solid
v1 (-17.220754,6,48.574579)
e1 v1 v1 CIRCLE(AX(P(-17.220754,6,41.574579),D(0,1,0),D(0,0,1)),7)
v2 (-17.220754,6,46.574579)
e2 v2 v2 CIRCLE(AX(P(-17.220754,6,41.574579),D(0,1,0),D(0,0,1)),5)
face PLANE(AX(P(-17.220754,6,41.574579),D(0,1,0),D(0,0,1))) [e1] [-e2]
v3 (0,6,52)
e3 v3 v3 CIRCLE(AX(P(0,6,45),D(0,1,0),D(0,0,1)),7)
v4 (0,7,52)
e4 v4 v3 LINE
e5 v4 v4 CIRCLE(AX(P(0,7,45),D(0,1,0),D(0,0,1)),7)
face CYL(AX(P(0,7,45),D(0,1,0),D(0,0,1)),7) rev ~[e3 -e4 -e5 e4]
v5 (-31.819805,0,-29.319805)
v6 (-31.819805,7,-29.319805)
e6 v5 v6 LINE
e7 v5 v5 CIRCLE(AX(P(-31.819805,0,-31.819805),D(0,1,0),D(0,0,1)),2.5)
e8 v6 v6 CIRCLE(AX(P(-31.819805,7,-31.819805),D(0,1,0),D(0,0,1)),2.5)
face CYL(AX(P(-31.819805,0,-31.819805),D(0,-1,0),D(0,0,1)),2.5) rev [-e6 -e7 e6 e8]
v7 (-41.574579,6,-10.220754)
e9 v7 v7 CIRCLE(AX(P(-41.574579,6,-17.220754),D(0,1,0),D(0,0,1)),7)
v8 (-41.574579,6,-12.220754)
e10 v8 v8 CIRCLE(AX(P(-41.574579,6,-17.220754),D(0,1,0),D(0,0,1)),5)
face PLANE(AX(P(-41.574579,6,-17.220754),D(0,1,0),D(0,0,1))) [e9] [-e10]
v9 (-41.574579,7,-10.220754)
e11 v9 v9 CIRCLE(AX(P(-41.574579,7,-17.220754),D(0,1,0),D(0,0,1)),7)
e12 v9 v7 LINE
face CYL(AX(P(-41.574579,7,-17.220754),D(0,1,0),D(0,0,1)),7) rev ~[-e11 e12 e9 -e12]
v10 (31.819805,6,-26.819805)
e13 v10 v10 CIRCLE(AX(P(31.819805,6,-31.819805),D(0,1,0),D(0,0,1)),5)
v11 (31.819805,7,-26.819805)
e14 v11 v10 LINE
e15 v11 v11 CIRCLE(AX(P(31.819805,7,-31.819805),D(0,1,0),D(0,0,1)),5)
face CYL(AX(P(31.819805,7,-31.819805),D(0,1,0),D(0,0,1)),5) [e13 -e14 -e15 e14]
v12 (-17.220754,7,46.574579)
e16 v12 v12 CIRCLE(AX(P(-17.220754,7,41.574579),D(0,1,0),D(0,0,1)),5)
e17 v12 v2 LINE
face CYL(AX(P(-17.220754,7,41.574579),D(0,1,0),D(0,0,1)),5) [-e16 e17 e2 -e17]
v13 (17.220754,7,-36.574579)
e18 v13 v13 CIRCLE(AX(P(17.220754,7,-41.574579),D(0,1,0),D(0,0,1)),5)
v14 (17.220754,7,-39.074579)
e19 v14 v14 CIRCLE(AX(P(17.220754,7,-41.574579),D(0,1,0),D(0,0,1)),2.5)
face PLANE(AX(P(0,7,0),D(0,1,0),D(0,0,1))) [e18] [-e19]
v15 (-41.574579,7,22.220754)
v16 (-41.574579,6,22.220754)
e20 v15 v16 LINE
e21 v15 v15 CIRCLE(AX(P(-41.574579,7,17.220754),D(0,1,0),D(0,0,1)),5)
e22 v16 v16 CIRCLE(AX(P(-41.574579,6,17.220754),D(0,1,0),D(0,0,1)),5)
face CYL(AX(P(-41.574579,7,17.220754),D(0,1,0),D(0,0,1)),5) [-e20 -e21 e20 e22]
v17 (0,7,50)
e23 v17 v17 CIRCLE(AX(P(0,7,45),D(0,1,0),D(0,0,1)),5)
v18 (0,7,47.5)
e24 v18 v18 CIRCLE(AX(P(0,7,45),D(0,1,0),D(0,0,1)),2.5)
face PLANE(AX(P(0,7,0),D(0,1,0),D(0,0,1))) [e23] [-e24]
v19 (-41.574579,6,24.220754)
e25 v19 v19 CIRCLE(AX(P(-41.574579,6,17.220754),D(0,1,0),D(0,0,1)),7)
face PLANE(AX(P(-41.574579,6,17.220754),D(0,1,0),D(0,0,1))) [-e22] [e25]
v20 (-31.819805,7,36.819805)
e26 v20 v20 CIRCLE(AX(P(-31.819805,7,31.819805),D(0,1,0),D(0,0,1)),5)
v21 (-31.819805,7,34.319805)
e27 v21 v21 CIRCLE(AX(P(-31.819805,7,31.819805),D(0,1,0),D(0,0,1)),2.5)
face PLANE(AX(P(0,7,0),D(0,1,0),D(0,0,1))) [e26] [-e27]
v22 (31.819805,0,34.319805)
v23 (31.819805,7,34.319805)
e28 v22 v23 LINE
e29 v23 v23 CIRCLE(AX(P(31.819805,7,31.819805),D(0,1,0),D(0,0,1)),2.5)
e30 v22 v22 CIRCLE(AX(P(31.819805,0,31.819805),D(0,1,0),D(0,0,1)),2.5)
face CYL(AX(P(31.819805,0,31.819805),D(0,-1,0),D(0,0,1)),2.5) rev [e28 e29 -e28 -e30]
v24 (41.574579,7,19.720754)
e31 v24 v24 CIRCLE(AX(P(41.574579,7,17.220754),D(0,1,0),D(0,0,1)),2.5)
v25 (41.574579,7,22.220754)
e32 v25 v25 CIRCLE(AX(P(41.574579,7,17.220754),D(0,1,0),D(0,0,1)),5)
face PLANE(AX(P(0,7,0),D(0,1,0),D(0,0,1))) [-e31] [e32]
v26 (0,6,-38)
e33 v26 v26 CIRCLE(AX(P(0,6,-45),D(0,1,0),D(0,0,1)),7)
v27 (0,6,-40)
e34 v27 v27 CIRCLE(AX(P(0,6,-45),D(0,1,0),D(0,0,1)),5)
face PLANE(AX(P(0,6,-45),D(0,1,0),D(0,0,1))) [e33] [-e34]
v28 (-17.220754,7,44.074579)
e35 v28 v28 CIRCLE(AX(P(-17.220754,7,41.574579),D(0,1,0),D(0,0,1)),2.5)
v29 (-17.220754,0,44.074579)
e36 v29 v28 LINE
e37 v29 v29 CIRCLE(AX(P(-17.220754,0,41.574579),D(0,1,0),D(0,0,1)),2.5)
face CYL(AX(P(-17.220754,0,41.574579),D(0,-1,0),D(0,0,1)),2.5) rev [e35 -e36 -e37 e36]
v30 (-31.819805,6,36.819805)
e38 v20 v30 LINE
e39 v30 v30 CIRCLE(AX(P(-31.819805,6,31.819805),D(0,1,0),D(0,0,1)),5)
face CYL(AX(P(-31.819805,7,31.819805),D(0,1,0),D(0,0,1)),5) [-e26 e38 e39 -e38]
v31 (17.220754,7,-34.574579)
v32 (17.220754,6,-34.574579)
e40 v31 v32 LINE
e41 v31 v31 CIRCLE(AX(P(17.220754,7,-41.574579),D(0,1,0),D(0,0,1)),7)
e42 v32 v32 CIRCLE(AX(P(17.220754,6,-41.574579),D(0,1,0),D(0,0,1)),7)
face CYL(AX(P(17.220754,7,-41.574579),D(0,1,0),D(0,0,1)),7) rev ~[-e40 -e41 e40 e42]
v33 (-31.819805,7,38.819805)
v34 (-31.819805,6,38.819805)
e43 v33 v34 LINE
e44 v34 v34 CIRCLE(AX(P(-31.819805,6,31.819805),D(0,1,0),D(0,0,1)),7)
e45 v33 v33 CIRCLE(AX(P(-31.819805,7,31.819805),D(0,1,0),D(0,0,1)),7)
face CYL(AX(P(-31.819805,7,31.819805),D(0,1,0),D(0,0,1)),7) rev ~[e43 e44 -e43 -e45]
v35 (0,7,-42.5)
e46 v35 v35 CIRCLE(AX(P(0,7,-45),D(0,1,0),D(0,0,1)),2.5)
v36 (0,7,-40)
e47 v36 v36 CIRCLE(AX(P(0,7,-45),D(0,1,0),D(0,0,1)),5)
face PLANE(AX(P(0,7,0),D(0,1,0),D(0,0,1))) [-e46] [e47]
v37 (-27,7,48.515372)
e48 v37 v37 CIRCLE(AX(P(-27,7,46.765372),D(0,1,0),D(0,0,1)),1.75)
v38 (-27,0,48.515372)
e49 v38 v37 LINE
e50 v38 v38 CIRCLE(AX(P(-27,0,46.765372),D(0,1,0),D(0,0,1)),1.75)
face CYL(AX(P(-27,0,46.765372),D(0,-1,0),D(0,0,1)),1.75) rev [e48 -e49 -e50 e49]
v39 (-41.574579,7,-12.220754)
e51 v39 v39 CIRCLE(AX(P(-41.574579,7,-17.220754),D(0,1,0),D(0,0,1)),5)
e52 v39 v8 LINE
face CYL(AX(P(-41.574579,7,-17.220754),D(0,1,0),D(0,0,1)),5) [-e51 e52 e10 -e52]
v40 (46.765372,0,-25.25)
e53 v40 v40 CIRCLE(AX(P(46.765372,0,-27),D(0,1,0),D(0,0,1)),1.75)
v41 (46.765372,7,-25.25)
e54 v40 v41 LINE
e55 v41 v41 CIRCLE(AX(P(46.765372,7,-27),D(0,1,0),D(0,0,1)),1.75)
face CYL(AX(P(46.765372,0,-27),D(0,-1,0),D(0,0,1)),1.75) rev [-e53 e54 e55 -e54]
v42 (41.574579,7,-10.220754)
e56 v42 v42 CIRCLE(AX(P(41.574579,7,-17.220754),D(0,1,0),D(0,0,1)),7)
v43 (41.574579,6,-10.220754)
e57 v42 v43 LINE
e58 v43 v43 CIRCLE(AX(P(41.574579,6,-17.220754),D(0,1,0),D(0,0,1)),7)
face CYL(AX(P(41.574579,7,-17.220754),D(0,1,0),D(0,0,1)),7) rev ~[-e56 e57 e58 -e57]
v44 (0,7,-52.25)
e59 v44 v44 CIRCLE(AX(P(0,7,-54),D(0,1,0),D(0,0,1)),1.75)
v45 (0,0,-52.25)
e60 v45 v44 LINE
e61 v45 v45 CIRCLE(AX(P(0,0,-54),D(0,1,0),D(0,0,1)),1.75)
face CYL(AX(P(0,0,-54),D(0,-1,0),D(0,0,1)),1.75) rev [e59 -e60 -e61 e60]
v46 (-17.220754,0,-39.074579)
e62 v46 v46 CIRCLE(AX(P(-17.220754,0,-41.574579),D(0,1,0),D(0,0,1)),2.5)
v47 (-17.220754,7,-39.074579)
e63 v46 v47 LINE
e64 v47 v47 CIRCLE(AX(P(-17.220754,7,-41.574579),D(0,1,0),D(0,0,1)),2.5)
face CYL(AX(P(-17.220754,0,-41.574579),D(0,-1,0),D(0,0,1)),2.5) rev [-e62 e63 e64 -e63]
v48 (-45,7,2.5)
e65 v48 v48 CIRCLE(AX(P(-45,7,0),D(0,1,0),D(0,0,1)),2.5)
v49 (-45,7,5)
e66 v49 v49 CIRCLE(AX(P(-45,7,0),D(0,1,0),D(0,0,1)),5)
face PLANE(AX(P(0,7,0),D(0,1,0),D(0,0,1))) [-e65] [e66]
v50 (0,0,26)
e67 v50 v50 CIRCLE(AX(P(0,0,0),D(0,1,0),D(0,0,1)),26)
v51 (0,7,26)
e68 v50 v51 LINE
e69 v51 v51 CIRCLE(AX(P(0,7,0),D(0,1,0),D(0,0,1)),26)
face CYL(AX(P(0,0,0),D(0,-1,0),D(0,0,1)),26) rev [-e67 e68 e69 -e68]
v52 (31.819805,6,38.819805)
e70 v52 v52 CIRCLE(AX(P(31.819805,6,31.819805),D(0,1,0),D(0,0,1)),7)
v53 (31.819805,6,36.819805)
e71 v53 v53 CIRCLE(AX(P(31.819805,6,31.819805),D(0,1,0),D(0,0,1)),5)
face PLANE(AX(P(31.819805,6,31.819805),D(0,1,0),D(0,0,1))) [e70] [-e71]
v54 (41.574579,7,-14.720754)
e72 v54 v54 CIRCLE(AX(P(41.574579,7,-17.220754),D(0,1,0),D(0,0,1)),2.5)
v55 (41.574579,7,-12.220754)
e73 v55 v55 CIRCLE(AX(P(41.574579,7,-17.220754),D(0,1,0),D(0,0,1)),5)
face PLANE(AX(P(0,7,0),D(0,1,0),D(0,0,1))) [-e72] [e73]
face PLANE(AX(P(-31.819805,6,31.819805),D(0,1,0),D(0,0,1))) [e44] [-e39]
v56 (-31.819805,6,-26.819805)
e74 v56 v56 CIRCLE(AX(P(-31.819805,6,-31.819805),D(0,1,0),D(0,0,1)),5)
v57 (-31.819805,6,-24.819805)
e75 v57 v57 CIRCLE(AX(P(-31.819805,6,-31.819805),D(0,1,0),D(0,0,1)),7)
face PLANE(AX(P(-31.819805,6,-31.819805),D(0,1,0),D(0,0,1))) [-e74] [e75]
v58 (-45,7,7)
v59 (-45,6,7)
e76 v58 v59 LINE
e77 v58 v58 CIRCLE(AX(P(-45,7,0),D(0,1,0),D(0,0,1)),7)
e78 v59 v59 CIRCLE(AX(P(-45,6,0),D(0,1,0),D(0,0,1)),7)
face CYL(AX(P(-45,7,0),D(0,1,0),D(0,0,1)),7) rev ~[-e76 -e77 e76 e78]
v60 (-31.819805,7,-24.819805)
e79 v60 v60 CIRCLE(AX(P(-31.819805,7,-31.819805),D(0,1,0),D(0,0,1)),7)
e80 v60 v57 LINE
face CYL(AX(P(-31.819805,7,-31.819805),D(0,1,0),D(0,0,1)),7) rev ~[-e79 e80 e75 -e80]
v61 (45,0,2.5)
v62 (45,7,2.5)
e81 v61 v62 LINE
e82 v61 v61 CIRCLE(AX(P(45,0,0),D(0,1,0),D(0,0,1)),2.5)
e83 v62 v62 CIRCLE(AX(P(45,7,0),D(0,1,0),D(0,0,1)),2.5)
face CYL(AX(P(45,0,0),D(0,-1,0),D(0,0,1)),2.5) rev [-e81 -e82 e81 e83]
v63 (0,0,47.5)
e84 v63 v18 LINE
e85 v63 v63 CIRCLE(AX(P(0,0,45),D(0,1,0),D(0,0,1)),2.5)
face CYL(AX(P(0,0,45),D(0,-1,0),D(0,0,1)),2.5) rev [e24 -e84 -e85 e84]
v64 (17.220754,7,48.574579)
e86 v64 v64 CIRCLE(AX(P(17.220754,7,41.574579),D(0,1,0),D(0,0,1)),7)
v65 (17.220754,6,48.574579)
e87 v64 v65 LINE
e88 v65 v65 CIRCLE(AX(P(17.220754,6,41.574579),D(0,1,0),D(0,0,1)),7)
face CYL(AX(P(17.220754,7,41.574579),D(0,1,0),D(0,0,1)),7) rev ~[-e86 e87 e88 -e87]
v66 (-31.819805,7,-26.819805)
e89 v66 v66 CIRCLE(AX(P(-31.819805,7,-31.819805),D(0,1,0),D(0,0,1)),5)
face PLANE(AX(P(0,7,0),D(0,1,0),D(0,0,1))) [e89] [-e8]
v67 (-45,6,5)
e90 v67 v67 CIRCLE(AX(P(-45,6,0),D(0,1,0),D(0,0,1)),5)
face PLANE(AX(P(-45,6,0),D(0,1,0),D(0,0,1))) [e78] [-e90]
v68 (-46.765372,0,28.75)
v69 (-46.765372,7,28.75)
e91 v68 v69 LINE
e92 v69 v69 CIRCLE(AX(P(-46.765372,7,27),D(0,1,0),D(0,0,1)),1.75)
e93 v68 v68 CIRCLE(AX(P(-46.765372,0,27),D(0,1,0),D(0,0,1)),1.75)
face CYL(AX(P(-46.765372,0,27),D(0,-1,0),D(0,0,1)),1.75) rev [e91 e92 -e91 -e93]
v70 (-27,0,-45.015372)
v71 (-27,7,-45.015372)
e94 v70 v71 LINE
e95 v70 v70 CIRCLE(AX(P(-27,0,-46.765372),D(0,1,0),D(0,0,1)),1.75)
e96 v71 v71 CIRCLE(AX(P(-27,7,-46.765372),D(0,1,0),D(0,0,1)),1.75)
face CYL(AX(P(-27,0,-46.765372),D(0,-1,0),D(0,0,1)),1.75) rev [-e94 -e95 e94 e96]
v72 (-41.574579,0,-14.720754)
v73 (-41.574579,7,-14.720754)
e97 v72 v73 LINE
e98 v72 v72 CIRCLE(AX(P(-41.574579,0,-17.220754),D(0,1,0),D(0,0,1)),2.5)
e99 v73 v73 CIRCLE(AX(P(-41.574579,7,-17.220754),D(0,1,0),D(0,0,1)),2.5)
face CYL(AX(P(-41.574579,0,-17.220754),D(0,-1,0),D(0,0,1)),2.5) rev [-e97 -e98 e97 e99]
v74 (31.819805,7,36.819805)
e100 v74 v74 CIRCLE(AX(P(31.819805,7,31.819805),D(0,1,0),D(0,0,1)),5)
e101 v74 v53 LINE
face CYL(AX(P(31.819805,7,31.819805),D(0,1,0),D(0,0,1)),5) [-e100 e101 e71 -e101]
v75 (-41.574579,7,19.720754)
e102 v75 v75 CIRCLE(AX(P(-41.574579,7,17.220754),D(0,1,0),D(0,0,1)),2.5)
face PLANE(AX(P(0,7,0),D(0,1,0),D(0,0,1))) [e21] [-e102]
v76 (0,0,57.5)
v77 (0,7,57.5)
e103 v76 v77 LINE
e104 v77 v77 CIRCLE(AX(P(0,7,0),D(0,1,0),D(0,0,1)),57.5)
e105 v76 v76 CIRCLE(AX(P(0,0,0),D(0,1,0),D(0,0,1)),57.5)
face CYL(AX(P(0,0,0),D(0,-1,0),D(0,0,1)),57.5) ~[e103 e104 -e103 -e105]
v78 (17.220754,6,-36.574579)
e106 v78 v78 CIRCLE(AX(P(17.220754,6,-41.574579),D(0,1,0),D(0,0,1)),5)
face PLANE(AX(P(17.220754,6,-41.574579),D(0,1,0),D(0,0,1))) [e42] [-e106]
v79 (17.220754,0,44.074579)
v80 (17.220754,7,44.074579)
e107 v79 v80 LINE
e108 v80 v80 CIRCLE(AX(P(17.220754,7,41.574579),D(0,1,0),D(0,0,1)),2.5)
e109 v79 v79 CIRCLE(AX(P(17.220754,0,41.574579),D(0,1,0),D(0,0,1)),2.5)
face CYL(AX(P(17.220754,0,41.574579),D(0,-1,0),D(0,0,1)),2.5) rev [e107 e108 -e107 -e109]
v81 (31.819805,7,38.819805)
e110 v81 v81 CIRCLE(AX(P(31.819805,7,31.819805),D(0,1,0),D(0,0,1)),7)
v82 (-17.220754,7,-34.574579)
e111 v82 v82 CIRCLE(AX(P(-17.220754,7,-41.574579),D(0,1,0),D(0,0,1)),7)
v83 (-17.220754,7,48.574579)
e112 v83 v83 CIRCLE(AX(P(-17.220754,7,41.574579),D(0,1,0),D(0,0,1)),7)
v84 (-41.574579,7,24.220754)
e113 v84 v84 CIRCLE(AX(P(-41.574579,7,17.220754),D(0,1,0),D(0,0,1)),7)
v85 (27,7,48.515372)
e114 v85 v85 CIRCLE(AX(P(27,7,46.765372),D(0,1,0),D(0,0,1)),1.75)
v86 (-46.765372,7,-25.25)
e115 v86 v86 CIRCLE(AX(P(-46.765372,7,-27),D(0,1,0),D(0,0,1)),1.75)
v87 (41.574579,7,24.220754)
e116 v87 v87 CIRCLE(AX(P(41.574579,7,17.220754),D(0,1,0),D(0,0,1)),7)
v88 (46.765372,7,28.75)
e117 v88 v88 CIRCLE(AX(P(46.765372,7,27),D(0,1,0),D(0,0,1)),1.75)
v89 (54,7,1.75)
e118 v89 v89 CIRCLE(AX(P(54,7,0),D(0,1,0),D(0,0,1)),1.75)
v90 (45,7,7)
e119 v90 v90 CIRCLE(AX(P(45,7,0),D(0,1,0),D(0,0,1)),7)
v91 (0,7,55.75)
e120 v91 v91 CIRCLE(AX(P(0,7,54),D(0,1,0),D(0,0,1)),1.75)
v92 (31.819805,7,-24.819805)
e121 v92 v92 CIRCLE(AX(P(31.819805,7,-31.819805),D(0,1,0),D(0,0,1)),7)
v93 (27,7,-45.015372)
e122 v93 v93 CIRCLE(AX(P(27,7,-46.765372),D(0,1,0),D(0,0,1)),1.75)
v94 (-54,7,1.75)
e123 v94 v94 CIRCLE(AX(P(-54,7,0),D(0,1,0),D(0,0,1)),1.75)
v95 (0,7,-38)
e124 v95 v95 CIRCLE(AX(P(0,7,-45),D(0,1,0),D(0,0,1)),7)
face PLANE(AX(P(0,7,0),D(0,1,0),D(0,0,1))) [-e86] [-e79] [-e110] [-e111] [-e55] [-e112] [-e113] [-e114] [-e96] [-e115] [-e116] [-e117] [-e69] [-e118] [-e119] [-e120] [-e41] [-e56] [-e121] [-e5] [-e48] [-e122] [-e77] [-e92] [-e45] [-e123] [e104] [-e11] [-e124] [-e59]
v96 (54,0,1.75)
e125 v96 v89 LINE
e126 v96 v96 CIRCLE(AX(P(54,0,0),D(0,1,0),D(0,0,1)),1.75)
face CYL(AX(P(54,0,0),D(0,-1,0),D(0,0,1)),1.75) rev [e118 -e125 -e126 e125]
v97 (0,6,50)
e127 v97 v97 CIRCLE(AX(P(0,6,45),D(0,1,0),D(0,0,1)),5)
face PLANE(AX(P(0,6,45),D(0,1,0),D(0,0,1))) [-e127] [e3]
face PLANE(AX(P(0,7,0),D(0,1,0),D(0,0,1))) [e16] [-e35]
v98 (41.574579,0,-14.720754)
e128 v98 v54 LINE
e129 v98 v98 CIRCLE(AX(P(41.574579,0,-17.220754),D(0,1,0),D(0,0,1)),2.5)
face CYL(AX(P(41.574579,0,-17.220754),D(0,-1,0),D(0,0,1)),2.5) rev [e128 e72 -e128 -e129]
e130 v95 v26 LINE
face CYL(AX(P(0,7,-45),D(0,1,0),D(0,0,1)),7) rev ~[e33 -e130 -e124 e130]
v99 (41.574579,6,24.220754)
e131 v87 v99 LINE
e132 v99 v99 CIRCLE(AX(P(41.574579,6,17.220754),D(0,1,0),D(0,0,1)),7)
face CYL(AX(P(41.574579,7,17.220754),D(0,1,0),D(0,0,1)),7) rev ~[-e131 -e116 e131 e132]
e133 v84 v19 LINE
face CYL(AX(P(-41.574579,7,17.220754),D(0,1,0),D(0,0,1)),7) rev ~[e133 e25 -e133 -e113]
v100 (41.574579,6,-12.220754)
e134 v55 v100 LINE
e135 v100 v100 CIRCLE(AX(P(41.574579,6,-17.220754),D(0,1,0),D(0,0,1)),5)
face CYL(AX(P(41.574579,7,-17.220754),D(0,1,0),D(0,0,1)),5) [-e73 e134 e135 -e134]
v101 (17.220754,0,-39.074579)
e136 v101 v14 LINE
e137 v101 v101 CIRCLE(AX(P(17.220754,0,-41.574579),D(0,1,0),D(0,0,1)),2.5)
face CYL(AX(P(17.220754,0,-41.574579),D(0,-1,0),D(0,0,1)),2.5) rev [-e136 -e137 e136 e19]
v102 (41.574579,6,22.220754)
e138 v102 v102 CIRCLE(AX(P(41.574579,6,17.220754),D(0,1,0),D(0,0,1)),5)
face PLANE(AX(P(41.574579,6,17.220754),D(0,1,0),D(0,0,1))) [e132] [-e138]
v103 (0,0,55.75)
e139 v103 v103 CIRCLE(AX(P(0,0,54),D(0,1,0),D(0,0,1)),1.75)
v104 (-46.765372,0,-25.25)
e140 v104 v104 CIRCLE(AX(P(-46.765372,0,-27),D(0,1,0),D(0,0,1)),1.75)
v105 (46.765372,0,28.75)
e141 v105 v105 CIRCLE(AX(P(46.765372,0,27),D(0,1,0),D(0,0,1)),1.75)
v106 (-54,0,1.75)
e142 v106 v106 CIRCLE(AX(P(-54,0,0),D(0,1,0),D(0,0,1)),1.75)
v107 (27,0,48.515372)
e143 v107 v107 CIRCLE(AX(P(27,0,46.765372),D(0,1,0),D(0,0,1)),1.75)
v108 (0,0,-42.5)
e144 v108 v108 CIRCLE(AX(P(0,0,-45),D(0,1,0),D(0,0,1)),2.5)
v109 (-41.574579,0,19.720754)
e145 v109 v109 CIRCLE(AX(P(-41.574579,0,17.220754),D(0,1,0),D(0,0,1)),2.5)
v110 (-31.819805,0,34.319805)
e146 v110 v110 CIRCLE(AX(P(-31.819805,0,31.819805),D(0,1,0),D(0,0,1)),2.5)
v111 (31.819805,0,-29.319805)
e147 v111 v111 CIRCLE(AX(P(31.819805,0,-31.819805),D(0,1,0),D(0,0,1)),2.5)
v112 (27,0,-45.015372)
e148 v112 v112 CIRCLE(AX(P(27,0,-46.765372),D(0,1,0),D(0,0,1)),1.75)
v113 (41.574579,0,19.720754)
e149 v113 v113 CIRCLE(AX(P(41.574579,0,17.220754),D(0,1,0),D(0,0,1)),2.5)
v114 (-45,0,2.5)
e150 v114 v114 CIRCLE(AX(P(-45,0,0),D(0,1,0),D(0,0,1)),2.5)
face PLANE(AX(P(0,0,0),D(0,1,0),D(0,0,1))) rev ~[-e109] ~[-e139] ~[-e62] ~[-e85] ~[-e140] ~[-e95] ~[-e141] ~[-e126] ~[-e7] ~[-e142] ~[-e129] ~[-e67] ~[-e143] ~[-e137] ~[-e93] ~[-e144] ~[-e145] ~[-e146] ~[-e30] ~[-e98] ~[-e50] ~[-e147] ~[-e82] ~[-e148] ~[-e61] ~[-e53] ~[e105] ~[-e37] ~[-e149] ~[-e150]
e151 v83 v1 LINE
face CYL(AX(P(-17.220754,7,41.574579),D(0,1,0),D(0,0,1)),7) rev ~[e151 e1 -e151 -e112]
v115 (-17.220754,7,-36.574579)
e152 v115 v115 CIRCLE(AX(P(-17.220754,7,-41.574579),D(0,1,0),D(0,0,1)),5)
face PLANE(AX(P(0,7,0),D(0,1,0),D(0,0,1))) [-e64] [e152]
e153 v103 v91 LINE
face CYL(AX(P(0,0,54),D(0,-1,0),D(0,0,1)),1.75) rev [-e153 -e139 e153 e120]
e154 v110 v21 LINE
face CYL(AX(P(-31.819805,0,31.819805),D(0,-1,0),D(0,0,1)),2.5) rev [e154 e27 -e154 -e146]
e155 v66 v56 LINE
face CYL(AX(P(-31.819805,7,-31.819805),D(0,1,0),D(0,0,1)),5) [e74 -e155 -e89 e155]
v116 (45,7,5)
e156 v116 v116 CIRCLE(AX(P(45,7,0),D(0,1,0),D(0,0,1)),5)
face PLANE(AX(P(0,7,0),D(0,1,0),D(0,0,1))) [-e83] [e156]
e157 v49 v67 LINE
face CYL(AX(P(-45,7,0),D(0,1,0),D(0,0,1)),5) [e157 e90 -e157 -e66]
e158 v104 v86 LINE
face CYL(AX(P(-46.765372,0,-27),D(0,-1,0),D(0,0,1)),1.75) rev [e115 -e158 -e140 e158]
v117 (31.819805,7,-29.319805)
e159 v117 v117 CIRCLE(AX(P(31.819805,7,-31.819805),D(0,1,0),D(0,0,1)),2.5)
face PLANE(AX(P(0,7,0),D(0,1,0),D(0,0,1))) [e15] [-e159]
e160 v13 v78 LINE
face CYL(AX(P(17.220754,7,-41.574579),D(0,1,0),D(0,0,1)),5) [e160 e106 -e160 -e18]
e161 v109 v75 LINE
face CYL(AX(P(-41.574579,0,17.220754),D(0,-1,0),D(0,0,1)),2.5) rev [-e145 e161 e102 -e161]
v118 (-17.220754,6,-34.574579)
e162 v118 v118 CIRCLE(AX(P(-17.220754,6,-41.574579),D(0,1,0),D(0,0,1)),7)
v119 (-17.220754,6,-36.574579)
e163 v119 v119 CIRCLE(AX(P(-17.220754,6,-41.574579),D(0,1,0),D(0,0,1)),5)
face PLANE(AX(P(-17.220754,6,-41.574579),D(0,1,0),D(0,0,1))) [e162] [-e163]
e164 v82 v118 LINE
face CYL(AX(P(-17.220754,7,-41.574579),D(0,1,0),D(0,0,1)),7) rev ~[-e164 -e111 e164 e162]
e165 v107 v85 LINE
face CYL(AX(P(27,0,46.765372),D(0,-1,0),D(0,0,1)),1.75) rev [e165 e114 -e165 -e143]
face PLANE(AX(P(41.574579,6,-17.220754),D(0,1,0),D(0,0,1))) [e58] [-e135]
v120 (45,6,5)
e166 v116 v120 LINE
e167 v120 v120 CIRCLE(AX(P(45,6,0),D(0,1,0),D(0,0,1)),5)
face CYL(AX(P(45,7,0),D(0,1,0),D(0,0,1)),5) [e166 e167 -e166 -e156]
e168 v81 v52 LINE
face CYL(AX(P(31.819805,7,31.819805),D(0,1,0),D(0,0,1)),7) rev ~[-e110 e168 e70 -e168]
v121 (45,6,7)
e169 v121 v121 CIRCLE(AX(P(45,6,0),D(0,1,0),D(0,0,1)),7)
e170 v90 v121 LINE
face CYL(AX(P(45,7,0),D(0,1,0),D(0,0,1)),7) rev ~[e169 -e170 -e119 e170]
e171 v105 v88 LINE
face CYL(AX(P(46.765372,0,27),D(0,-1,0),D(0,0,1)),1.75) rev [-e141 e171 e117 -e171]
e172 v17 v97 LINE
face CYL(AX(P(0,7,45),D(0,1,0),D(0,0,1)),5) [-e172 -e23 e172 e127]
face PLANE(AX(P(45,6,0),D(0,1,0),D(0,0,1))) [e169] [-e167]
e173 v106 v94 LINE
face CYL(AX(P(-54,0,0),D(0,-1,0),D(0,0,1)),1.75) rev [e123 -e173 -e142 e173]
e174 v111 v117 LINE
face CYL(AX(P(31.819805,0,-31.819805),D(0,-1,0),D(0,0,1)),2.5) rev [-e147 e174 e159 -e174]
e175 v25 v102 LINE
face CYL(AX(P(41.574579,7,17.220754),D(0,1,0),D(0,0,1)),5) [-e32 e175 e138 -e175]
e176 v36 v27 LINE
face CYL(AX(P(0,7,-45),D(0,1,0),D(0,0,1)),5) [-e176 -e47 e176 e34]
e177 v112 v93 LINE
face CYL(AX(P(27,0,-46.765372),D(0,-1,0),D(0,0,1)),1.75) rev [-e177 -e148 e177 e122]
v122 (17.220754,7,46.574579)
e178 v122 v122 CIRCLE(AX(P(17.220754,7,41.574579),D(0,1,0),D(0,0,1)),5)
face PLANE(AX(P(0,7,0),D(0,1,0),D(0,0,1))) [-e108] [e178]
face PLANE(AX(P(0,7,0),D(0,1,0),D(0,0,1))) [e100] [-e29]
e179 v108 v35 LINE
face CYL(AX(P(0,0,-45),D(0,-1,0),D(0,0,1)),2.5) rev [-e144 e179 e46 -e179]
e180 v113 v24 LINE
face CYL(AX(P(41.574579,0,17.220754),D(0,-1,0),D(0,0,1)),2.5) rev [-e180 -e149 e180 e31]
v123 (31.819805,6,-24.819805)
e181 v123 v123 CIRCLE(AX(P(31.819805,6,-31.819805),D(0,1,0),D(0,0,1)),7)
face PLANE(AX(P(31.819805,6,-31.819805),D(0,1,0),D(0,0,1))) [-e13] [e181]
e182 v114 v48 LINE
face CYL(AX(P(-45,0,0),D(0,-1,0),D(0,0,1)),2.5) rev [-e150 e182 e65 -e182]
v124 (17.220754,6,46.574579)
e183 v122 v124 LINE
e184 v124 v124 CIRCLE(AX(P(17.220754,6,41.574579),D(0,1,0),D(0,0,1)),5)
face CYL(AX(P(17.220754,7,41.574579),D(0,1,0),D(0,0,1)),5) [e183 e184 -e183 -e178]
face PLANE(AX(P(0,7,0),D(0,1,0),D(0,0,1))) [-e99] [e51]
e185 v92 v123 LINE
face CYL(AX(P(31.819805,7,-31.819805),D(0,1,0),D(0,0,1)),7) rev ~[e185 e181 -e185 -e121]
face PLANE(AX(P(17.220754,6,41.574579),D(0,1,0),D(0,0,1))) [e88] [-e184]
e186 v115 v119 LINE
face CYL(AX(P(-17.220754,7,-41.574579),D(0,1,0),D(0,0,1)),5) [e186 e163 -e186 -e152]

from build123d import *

# Parameters (mm, degrees)
SKETCH1_R           = 57.5
SKETCH1_R_2         = 1.75
SKETCH1_R_3         = 26
SKETCH1_R_4         = 2.5
BOSS_EXTRUDE1_DEPTH = 7
SKETCH2_R           = 7
SKETCH2_R_2         = 5
CUT_EXTRUDE1_DEPTH  = 1


with BuildPart() as part:
    # Sketch1 → Boss-Extrude1 (new body)
    with BuildSketch(Plane(origin=(0, 0, 0), x_dir=(1, 0, 0), z_dir=(0, 1, 0))):
        with Locations(Location((0, 0, 0), (0, 0, 270))):
            Circle(SKETCH1_R)
        with Locations(Location((0, 54, 0), (0, 0, 270))):
            Circle(SKETCH1_R_2, mode=Mode.SUBTRACT)
        with Locations(Location((27, 46.765371804, 0), (0, 0, 270))):
            Circle(SKETCH1_R_2, mode=Mode.SUBTRACT)
        with Locations(Location((46.765371804, 27, 0), (0, 0, 270))):
            Circle(SKETCH1_R_2, mode=Mode.SUBTRACT)
        with Locations(Location((54, 0, 0), (0, 0, 270))):
            Circle(SKETCH1_R_2, mode=Mode.SUBTRACT)
        with Locations(Location((46.765371804, -27, 0), (0, 0, 270))):
            Circle(SKETCH1_R_2, mode=Mode.SUBTRACT)
        with Locations(Location((27, -46.765371804, 0), (0, 0, 270))):
            Circle(SKETCH1_R_2, mode=Mode.SUBTRACT)
        with Locations(Location((0, -54, 0), (0, 0, 270))):
            Circle(SKETCH1_R_2, mode=Mode.SUBTRACT)
        with Locations(Location((-27, -46.765371804, 0), (0, 0, 270))):
            Circle(SKETCH1_R_2, mode=Mode.SUBTRACT)
        with Locations(Location((-46.765371804, -27, 0), (0, 0, 270))):
            Circle(SKETCH1_R_2, mode=Mode.SUBTRACT)
        with Locations(Location((-54, 0, 0), (0, 0, 270))):
            Circle(SKETCH1_R_2, mode=Mode.SUBTRACT)
        with Locations(Location((-46.765371804, 27, 0), (0, 0, 270))):
            Circle(SKETCH1_R_2, mode=Mode.SUBTRACT)
        with Locations(Location((-27, 46.765371804, 0), (0, 0, 270))):
            Circle(SKETCH1_R_2, mode=Mode.SUBTRACT)
        with Locations(Location((0, 0, 0), (0, 0, 270))):
            Circle(SKETCH1_R_3, mode=Mode.SUBTRACT)
        with Locations(Location((0, 45, 0), (0, 0, 270))):
            Circle(SKETCH1_R_4, mode=Mode.SUBTRACT)
        with Locations(Location((17.220754456, 41.574578963, 0), (0, 0, 270))):
            Circle(SKETCH1_R_4, mode=Mode.SUBTRACT)
        with Locations(Location((31.819805153, 31.819805153, 0), (0, 0, 270))):
            Circle(SKETCH1_R_4, mode=Mode.SUBTRACT)
        with Locations(Location((41.574578963, 17.220754456, 0), (0, 0, 270))):
            Circle(SKETCH1_R_4, mode=Mode.SUBTRACT)
        with Locations(Location((45, 0, 0), (0, 0, 270))):
            Circle(SKETCH1_R_4, mode=Mode.SUBTRACT)
        with Locations(Location((41.574578963, -17.220754456, 0), (0, 0, 270))):
            Circle(SKETCH1_R_4, mode=Mode.SUBTRACT)
        with Locations(Location((31.819805153, -31.819805153, 0), (0, 0, 270))):
            Circle(SKETCH1_R_4, mode=Mode.SUBTRACT)
        with Locations(Location((17.220754456, -41.574578963, 0), (0, 0, 270))):
            Circle(SKETCH1_R_4, mode=Mode.SUBTRACT)
        with Locations(Location((0, -45, 0), (0, 0, 270))):
            Circle(SKETCH1_R_4, mode=Mode.SUBTRACT)
        with Locations(Location((-17.220754456, -41.574578963, 0), (0, 0, 270))):
            Circle(SKETCH1_R_4, mode=Mode.SUBTRACT)
        with Locations(Location((-31.819805153, -31.819805153, 0), (0, 0, 270))):
            Circle(SKETCH1_R_4, mode=Mode.SUBTRACT)
        with Locations(Location((-41.574578963, -17.220754456, 0), (0, 0, 270))):
            Circle(SKETCH1_R_4, mode=Mode.SUBTRACT)
        with Locations(Location((-45, 0, 0), (0, 0, 270))):
            Circle(SKETCH1_R_4, mode=Mode.SUBTRACT)
        with Locations(Location((-41.574578963, 17.220754456, 0), (0, 0, 270))):
            Circle(SKETCH1_R_4, mode=Mode.SUBTRACT)
        with Locations(Location((-31.819805153, 31.819805153, 0), (0, 0, 270))):
            Circle(SKETCH1_R_4, mode=Mode.SUBTRACT)
        with Locations(Location((-17.220754456, 41.574578963, 0), (0, 0, 270))):
            Circle(SKETCH1_R_4, mode=Mode.SUBTRACT)
    extrude(amount=BOSS_EXTRUDE1_DEPTH)

    # Sketch2 → Cut-Extrude1 (cut)
    # profile 1 of 16: a face of its own
    with BuildSketch(Plane(origin=(0, 7, 0), x_dir=(1, 0, 0), z_dir=(0, 1, 0))):
        with Locations(Location((0, 45, 0), (0, 0, 270))):
            Circle(SKETCH2_R)
        with Locations(Location((0, 45, 0), (0, 0, 270))):
            Circle(SKETCH2_R_2, mode=Mode.SUBTRACT)
    # profile 2 of 16: a face of its own
    with BuildSketch(Plane(origin=(0, 7, 0), x_dir=(1, 0, 0), z_dir=(0, 1, 0))):
        with Locations(Location((17.220754456, 41.574578963, 0), (0, 0, 270))):
            Circle(SKETCH2_R)
        with Locations(Location((17.220754456, 41.574578963, 0), (0, 0, 270))):
            Circle(SKETCH2_R_2, mode=Mode.SUBTRACT)
    # profile 3 of 16: a face of its own
    with BuildSketch(Plane(origin=(0, 7, 0), x_dir=(1, 0, 0), z_dir=(0, 1, 0))):
        with Locations(Location((31.819805153, 31.819805153, 0), (0, 0, 270))):
            Circle(SKETCH2_R)
        with Locations(Location((31.819805153, 31.819805153, 0), (0, 0, 270))):
            Circle(SKETCH2_R_2, mode=Mode.SUBTRACT)
    # profile 4 of 16: a face of its own
    with BuildSketch(Plane(origin=(0, 7, 0), x_dir=(1, 0, 0), z_dir=(0, 1, 0))):
        with Locations(Location((41.574578963, 17.220754456, 0), (0, 0, 270))):
            Circle(SKETCH2_R)
        with Locations(Location((41.574578963, 17.220754456, 0), (0, 0, 270))):
            Circle(SKETCH2_R_2, mode=Mode.SUBTRACT)
    # profile 5 of 16: a face of its own
    with BuildSketch(Plane(origin=(0, 7, 0), x_dir=(1, 0, 0), z_dir=(0, 1, 0))):
        with Locations(Location((45, 0, 0), (0, 0, 270))):
            Circle(SKETCH2_R)
        with Locations(Location((45, 0, 0), (0, 0, 270))):
            Circle(SKETCH2_R_2, mode=Mode.SUBTRACT)
    # profile 6 of 16: a face of its own
    with BuildSketch(Plane(origin=(0, 7, 0), x_dir=(1, 0, 0), z_dir=(0, 1, 0))):
        with Locations(Location((41.574578963, -17.220754456, 0), (0, 0, 270))):
            Circle(SKETCH2_R)
        with Locations(Location((41.574578963, -17.220754456, 0), (0, 0, 270))):
            Circle(SKETCH2_R_2, mode=Mode.SUBTRACT)
    # profile 7 of 16: a face of its own
    with BuildSketch(Plane(origin=(0, 7, 0), x_dir=(1, 0, 0), z_dir=(0, 1, 0))):
        with Locations(Location((31.819805153, -31.819805153, 0), (0, 0, 270))):
            Circle(SKETCH2_R)
        with Locations(Location((31.819805153, -31.819805153, 0), (0, 0, 270))):
            Circle(SKETCH2_R_2, mode=Mode.SUBTRACT)
    # profile 8 of 16: a face of its own
    with BuildSketch(Plane(origin=(0, 7, 0), x_dir=(1, 0, 0), z_dir=(0, 1, 0))):
        with Locations(Location((17.220754456, -41.574578963, 0), (0, 0, 270))):
            Circle(SKETCH2_R)
        with Locations(Location((17.220754456, -41.574578963, 0), (0, 0, 270))):
            Circle(SKETCH2_R_2, mode=Mode.SUBTRACT)
    # profile 9 of 16: a face of its own
    with BuildSketch(Plane(origin=(0, 7, 0), x_dir=(1, 0, 0), z_dir=(0, 1, 0))):
        with Locations(Location((0, -45, 0), (0, 0, 270))):
            Circle(SKETCH2_R)
        with Locations(Location((0, -45, 0), (0, 0, 270))):
            Circle(SKETCH2_R_2, mode=Mode.SUBTRACT)
    # profile 10 of 16: a face of its own
    with BuildSketch(Plane(origin=(0, 7, 0), x_dir=(1, 0, 0), z_dir=(0, 1, 0))):
        with Locations(Location((-17.220754456, -41.574578963, 0), (0, 0, 270))):
            Circle(SKETCH2_R)
        with Locations(Location((-17.220754456, -41.574578963, 0), (0, 0, 270))):
            Circle(SKETCH2_R_2, mode=Mode.SUBTRACT)
    # profile 11 of 16: a face of its own
    with BuildSketch(Plane(origin=(0, 7, 0), x_dir=(1, 0, 0), z_dir=(0, 1, 0))):
        with Locations(Location((-31.819805153, -31.819805153, 0), (0, 0, 270))):
            Circle(SKETCH2_R)
        with Locations(Location((-31.819805153, -31.819805153, 0), (0, 0, 270))):
            Circle(SKETCH2_R_2, mode=Mode.SUBTRACT)
    # profile 12 of 16: a face of its own
    with BuildSketch(Plane(origin=(0, 7, 0), x_dir=(1, 0, 0), z_dir=(0, 1, 0))):
        with Locations(Location((-41.574578963, -17.220754456, 0), (0, 0, 270))):
            Circle(SKETCH2_R)
        with Locations(Location((-41.574578963, -17.220754456, 0), (0, 0, 270))):
            Circle(SKETCH2_R_2, mode=Mode.SUBTRACT)
    # profile 13 of 16: a face of its own
    with BuildSketch(Plane(origin=(0, 7, 0), x_dir=(1, 0, 0), z_dir=(0, 1, 0))):
        with Locations(Location((-45, 0, 0), (0, 0, 270))):
            Circle(SKETCH2_R)
        with Locations(Location((-45, 0, 0), (0, 0, 270))):
            Circle(SKETCH2_R_2, mode=Mode.SUBTRACT)
    # profile 14 of 16: a face of its own
    with BuildSketch(Plane(origin=(0, 7, 0), x_dir=(1, 0, 0), z_dir=(0, 1, 0))):
        with Locations(Location((-41.574578963, 17.220754456, 0), (0, 0, 270))):
            Circle(SKETCH2_R)
        with Locations(Location((-41.574578963, 17.220754456, 0), (0, 0, 270))):
            Circle(SKETCH2_R_2, mode=Mode.SUBTRACT)
    # profile 15 of 16: a face of its own
    with BuildSketch(Plane(origin=(0, 7, 0), x_dir=(1, 0, 0), z_dir=(0, 1, 0))):
        with Locations(Location((-31.819805153, 31.819805153, 0), (0, 0, 270))):
            Circle(SKETCH2_R)
        with Locations(Location((-31.819805153, 31.819805153, 0), (0, 0, 270))):
            Circle(SKETCH2_R_2, mode=Mode.SUBTRACT)
    # profile 16 of 16: a face of its own
    with BuildSketch(Plane(origin=(0, 7, 0), x_dir=(1, 0, 0), z_dir=(0, 1, 0))):
        with Locations(Location((-17.220754456, 41.574578963, 0), (0, 0, 270))):
            Circle(SKETCH2_R)
        with Locations(Location((-17.220754456, 41.574578963, 0), (0, 0, 270))):
            Circle(SKETCH2_R_2, mode=Mode.SUBTRACT)
    extrude(amount=-CUT_EXTRUDE1_DEPTH, mode=Mode.SUBTRACT)


solid = part.part
